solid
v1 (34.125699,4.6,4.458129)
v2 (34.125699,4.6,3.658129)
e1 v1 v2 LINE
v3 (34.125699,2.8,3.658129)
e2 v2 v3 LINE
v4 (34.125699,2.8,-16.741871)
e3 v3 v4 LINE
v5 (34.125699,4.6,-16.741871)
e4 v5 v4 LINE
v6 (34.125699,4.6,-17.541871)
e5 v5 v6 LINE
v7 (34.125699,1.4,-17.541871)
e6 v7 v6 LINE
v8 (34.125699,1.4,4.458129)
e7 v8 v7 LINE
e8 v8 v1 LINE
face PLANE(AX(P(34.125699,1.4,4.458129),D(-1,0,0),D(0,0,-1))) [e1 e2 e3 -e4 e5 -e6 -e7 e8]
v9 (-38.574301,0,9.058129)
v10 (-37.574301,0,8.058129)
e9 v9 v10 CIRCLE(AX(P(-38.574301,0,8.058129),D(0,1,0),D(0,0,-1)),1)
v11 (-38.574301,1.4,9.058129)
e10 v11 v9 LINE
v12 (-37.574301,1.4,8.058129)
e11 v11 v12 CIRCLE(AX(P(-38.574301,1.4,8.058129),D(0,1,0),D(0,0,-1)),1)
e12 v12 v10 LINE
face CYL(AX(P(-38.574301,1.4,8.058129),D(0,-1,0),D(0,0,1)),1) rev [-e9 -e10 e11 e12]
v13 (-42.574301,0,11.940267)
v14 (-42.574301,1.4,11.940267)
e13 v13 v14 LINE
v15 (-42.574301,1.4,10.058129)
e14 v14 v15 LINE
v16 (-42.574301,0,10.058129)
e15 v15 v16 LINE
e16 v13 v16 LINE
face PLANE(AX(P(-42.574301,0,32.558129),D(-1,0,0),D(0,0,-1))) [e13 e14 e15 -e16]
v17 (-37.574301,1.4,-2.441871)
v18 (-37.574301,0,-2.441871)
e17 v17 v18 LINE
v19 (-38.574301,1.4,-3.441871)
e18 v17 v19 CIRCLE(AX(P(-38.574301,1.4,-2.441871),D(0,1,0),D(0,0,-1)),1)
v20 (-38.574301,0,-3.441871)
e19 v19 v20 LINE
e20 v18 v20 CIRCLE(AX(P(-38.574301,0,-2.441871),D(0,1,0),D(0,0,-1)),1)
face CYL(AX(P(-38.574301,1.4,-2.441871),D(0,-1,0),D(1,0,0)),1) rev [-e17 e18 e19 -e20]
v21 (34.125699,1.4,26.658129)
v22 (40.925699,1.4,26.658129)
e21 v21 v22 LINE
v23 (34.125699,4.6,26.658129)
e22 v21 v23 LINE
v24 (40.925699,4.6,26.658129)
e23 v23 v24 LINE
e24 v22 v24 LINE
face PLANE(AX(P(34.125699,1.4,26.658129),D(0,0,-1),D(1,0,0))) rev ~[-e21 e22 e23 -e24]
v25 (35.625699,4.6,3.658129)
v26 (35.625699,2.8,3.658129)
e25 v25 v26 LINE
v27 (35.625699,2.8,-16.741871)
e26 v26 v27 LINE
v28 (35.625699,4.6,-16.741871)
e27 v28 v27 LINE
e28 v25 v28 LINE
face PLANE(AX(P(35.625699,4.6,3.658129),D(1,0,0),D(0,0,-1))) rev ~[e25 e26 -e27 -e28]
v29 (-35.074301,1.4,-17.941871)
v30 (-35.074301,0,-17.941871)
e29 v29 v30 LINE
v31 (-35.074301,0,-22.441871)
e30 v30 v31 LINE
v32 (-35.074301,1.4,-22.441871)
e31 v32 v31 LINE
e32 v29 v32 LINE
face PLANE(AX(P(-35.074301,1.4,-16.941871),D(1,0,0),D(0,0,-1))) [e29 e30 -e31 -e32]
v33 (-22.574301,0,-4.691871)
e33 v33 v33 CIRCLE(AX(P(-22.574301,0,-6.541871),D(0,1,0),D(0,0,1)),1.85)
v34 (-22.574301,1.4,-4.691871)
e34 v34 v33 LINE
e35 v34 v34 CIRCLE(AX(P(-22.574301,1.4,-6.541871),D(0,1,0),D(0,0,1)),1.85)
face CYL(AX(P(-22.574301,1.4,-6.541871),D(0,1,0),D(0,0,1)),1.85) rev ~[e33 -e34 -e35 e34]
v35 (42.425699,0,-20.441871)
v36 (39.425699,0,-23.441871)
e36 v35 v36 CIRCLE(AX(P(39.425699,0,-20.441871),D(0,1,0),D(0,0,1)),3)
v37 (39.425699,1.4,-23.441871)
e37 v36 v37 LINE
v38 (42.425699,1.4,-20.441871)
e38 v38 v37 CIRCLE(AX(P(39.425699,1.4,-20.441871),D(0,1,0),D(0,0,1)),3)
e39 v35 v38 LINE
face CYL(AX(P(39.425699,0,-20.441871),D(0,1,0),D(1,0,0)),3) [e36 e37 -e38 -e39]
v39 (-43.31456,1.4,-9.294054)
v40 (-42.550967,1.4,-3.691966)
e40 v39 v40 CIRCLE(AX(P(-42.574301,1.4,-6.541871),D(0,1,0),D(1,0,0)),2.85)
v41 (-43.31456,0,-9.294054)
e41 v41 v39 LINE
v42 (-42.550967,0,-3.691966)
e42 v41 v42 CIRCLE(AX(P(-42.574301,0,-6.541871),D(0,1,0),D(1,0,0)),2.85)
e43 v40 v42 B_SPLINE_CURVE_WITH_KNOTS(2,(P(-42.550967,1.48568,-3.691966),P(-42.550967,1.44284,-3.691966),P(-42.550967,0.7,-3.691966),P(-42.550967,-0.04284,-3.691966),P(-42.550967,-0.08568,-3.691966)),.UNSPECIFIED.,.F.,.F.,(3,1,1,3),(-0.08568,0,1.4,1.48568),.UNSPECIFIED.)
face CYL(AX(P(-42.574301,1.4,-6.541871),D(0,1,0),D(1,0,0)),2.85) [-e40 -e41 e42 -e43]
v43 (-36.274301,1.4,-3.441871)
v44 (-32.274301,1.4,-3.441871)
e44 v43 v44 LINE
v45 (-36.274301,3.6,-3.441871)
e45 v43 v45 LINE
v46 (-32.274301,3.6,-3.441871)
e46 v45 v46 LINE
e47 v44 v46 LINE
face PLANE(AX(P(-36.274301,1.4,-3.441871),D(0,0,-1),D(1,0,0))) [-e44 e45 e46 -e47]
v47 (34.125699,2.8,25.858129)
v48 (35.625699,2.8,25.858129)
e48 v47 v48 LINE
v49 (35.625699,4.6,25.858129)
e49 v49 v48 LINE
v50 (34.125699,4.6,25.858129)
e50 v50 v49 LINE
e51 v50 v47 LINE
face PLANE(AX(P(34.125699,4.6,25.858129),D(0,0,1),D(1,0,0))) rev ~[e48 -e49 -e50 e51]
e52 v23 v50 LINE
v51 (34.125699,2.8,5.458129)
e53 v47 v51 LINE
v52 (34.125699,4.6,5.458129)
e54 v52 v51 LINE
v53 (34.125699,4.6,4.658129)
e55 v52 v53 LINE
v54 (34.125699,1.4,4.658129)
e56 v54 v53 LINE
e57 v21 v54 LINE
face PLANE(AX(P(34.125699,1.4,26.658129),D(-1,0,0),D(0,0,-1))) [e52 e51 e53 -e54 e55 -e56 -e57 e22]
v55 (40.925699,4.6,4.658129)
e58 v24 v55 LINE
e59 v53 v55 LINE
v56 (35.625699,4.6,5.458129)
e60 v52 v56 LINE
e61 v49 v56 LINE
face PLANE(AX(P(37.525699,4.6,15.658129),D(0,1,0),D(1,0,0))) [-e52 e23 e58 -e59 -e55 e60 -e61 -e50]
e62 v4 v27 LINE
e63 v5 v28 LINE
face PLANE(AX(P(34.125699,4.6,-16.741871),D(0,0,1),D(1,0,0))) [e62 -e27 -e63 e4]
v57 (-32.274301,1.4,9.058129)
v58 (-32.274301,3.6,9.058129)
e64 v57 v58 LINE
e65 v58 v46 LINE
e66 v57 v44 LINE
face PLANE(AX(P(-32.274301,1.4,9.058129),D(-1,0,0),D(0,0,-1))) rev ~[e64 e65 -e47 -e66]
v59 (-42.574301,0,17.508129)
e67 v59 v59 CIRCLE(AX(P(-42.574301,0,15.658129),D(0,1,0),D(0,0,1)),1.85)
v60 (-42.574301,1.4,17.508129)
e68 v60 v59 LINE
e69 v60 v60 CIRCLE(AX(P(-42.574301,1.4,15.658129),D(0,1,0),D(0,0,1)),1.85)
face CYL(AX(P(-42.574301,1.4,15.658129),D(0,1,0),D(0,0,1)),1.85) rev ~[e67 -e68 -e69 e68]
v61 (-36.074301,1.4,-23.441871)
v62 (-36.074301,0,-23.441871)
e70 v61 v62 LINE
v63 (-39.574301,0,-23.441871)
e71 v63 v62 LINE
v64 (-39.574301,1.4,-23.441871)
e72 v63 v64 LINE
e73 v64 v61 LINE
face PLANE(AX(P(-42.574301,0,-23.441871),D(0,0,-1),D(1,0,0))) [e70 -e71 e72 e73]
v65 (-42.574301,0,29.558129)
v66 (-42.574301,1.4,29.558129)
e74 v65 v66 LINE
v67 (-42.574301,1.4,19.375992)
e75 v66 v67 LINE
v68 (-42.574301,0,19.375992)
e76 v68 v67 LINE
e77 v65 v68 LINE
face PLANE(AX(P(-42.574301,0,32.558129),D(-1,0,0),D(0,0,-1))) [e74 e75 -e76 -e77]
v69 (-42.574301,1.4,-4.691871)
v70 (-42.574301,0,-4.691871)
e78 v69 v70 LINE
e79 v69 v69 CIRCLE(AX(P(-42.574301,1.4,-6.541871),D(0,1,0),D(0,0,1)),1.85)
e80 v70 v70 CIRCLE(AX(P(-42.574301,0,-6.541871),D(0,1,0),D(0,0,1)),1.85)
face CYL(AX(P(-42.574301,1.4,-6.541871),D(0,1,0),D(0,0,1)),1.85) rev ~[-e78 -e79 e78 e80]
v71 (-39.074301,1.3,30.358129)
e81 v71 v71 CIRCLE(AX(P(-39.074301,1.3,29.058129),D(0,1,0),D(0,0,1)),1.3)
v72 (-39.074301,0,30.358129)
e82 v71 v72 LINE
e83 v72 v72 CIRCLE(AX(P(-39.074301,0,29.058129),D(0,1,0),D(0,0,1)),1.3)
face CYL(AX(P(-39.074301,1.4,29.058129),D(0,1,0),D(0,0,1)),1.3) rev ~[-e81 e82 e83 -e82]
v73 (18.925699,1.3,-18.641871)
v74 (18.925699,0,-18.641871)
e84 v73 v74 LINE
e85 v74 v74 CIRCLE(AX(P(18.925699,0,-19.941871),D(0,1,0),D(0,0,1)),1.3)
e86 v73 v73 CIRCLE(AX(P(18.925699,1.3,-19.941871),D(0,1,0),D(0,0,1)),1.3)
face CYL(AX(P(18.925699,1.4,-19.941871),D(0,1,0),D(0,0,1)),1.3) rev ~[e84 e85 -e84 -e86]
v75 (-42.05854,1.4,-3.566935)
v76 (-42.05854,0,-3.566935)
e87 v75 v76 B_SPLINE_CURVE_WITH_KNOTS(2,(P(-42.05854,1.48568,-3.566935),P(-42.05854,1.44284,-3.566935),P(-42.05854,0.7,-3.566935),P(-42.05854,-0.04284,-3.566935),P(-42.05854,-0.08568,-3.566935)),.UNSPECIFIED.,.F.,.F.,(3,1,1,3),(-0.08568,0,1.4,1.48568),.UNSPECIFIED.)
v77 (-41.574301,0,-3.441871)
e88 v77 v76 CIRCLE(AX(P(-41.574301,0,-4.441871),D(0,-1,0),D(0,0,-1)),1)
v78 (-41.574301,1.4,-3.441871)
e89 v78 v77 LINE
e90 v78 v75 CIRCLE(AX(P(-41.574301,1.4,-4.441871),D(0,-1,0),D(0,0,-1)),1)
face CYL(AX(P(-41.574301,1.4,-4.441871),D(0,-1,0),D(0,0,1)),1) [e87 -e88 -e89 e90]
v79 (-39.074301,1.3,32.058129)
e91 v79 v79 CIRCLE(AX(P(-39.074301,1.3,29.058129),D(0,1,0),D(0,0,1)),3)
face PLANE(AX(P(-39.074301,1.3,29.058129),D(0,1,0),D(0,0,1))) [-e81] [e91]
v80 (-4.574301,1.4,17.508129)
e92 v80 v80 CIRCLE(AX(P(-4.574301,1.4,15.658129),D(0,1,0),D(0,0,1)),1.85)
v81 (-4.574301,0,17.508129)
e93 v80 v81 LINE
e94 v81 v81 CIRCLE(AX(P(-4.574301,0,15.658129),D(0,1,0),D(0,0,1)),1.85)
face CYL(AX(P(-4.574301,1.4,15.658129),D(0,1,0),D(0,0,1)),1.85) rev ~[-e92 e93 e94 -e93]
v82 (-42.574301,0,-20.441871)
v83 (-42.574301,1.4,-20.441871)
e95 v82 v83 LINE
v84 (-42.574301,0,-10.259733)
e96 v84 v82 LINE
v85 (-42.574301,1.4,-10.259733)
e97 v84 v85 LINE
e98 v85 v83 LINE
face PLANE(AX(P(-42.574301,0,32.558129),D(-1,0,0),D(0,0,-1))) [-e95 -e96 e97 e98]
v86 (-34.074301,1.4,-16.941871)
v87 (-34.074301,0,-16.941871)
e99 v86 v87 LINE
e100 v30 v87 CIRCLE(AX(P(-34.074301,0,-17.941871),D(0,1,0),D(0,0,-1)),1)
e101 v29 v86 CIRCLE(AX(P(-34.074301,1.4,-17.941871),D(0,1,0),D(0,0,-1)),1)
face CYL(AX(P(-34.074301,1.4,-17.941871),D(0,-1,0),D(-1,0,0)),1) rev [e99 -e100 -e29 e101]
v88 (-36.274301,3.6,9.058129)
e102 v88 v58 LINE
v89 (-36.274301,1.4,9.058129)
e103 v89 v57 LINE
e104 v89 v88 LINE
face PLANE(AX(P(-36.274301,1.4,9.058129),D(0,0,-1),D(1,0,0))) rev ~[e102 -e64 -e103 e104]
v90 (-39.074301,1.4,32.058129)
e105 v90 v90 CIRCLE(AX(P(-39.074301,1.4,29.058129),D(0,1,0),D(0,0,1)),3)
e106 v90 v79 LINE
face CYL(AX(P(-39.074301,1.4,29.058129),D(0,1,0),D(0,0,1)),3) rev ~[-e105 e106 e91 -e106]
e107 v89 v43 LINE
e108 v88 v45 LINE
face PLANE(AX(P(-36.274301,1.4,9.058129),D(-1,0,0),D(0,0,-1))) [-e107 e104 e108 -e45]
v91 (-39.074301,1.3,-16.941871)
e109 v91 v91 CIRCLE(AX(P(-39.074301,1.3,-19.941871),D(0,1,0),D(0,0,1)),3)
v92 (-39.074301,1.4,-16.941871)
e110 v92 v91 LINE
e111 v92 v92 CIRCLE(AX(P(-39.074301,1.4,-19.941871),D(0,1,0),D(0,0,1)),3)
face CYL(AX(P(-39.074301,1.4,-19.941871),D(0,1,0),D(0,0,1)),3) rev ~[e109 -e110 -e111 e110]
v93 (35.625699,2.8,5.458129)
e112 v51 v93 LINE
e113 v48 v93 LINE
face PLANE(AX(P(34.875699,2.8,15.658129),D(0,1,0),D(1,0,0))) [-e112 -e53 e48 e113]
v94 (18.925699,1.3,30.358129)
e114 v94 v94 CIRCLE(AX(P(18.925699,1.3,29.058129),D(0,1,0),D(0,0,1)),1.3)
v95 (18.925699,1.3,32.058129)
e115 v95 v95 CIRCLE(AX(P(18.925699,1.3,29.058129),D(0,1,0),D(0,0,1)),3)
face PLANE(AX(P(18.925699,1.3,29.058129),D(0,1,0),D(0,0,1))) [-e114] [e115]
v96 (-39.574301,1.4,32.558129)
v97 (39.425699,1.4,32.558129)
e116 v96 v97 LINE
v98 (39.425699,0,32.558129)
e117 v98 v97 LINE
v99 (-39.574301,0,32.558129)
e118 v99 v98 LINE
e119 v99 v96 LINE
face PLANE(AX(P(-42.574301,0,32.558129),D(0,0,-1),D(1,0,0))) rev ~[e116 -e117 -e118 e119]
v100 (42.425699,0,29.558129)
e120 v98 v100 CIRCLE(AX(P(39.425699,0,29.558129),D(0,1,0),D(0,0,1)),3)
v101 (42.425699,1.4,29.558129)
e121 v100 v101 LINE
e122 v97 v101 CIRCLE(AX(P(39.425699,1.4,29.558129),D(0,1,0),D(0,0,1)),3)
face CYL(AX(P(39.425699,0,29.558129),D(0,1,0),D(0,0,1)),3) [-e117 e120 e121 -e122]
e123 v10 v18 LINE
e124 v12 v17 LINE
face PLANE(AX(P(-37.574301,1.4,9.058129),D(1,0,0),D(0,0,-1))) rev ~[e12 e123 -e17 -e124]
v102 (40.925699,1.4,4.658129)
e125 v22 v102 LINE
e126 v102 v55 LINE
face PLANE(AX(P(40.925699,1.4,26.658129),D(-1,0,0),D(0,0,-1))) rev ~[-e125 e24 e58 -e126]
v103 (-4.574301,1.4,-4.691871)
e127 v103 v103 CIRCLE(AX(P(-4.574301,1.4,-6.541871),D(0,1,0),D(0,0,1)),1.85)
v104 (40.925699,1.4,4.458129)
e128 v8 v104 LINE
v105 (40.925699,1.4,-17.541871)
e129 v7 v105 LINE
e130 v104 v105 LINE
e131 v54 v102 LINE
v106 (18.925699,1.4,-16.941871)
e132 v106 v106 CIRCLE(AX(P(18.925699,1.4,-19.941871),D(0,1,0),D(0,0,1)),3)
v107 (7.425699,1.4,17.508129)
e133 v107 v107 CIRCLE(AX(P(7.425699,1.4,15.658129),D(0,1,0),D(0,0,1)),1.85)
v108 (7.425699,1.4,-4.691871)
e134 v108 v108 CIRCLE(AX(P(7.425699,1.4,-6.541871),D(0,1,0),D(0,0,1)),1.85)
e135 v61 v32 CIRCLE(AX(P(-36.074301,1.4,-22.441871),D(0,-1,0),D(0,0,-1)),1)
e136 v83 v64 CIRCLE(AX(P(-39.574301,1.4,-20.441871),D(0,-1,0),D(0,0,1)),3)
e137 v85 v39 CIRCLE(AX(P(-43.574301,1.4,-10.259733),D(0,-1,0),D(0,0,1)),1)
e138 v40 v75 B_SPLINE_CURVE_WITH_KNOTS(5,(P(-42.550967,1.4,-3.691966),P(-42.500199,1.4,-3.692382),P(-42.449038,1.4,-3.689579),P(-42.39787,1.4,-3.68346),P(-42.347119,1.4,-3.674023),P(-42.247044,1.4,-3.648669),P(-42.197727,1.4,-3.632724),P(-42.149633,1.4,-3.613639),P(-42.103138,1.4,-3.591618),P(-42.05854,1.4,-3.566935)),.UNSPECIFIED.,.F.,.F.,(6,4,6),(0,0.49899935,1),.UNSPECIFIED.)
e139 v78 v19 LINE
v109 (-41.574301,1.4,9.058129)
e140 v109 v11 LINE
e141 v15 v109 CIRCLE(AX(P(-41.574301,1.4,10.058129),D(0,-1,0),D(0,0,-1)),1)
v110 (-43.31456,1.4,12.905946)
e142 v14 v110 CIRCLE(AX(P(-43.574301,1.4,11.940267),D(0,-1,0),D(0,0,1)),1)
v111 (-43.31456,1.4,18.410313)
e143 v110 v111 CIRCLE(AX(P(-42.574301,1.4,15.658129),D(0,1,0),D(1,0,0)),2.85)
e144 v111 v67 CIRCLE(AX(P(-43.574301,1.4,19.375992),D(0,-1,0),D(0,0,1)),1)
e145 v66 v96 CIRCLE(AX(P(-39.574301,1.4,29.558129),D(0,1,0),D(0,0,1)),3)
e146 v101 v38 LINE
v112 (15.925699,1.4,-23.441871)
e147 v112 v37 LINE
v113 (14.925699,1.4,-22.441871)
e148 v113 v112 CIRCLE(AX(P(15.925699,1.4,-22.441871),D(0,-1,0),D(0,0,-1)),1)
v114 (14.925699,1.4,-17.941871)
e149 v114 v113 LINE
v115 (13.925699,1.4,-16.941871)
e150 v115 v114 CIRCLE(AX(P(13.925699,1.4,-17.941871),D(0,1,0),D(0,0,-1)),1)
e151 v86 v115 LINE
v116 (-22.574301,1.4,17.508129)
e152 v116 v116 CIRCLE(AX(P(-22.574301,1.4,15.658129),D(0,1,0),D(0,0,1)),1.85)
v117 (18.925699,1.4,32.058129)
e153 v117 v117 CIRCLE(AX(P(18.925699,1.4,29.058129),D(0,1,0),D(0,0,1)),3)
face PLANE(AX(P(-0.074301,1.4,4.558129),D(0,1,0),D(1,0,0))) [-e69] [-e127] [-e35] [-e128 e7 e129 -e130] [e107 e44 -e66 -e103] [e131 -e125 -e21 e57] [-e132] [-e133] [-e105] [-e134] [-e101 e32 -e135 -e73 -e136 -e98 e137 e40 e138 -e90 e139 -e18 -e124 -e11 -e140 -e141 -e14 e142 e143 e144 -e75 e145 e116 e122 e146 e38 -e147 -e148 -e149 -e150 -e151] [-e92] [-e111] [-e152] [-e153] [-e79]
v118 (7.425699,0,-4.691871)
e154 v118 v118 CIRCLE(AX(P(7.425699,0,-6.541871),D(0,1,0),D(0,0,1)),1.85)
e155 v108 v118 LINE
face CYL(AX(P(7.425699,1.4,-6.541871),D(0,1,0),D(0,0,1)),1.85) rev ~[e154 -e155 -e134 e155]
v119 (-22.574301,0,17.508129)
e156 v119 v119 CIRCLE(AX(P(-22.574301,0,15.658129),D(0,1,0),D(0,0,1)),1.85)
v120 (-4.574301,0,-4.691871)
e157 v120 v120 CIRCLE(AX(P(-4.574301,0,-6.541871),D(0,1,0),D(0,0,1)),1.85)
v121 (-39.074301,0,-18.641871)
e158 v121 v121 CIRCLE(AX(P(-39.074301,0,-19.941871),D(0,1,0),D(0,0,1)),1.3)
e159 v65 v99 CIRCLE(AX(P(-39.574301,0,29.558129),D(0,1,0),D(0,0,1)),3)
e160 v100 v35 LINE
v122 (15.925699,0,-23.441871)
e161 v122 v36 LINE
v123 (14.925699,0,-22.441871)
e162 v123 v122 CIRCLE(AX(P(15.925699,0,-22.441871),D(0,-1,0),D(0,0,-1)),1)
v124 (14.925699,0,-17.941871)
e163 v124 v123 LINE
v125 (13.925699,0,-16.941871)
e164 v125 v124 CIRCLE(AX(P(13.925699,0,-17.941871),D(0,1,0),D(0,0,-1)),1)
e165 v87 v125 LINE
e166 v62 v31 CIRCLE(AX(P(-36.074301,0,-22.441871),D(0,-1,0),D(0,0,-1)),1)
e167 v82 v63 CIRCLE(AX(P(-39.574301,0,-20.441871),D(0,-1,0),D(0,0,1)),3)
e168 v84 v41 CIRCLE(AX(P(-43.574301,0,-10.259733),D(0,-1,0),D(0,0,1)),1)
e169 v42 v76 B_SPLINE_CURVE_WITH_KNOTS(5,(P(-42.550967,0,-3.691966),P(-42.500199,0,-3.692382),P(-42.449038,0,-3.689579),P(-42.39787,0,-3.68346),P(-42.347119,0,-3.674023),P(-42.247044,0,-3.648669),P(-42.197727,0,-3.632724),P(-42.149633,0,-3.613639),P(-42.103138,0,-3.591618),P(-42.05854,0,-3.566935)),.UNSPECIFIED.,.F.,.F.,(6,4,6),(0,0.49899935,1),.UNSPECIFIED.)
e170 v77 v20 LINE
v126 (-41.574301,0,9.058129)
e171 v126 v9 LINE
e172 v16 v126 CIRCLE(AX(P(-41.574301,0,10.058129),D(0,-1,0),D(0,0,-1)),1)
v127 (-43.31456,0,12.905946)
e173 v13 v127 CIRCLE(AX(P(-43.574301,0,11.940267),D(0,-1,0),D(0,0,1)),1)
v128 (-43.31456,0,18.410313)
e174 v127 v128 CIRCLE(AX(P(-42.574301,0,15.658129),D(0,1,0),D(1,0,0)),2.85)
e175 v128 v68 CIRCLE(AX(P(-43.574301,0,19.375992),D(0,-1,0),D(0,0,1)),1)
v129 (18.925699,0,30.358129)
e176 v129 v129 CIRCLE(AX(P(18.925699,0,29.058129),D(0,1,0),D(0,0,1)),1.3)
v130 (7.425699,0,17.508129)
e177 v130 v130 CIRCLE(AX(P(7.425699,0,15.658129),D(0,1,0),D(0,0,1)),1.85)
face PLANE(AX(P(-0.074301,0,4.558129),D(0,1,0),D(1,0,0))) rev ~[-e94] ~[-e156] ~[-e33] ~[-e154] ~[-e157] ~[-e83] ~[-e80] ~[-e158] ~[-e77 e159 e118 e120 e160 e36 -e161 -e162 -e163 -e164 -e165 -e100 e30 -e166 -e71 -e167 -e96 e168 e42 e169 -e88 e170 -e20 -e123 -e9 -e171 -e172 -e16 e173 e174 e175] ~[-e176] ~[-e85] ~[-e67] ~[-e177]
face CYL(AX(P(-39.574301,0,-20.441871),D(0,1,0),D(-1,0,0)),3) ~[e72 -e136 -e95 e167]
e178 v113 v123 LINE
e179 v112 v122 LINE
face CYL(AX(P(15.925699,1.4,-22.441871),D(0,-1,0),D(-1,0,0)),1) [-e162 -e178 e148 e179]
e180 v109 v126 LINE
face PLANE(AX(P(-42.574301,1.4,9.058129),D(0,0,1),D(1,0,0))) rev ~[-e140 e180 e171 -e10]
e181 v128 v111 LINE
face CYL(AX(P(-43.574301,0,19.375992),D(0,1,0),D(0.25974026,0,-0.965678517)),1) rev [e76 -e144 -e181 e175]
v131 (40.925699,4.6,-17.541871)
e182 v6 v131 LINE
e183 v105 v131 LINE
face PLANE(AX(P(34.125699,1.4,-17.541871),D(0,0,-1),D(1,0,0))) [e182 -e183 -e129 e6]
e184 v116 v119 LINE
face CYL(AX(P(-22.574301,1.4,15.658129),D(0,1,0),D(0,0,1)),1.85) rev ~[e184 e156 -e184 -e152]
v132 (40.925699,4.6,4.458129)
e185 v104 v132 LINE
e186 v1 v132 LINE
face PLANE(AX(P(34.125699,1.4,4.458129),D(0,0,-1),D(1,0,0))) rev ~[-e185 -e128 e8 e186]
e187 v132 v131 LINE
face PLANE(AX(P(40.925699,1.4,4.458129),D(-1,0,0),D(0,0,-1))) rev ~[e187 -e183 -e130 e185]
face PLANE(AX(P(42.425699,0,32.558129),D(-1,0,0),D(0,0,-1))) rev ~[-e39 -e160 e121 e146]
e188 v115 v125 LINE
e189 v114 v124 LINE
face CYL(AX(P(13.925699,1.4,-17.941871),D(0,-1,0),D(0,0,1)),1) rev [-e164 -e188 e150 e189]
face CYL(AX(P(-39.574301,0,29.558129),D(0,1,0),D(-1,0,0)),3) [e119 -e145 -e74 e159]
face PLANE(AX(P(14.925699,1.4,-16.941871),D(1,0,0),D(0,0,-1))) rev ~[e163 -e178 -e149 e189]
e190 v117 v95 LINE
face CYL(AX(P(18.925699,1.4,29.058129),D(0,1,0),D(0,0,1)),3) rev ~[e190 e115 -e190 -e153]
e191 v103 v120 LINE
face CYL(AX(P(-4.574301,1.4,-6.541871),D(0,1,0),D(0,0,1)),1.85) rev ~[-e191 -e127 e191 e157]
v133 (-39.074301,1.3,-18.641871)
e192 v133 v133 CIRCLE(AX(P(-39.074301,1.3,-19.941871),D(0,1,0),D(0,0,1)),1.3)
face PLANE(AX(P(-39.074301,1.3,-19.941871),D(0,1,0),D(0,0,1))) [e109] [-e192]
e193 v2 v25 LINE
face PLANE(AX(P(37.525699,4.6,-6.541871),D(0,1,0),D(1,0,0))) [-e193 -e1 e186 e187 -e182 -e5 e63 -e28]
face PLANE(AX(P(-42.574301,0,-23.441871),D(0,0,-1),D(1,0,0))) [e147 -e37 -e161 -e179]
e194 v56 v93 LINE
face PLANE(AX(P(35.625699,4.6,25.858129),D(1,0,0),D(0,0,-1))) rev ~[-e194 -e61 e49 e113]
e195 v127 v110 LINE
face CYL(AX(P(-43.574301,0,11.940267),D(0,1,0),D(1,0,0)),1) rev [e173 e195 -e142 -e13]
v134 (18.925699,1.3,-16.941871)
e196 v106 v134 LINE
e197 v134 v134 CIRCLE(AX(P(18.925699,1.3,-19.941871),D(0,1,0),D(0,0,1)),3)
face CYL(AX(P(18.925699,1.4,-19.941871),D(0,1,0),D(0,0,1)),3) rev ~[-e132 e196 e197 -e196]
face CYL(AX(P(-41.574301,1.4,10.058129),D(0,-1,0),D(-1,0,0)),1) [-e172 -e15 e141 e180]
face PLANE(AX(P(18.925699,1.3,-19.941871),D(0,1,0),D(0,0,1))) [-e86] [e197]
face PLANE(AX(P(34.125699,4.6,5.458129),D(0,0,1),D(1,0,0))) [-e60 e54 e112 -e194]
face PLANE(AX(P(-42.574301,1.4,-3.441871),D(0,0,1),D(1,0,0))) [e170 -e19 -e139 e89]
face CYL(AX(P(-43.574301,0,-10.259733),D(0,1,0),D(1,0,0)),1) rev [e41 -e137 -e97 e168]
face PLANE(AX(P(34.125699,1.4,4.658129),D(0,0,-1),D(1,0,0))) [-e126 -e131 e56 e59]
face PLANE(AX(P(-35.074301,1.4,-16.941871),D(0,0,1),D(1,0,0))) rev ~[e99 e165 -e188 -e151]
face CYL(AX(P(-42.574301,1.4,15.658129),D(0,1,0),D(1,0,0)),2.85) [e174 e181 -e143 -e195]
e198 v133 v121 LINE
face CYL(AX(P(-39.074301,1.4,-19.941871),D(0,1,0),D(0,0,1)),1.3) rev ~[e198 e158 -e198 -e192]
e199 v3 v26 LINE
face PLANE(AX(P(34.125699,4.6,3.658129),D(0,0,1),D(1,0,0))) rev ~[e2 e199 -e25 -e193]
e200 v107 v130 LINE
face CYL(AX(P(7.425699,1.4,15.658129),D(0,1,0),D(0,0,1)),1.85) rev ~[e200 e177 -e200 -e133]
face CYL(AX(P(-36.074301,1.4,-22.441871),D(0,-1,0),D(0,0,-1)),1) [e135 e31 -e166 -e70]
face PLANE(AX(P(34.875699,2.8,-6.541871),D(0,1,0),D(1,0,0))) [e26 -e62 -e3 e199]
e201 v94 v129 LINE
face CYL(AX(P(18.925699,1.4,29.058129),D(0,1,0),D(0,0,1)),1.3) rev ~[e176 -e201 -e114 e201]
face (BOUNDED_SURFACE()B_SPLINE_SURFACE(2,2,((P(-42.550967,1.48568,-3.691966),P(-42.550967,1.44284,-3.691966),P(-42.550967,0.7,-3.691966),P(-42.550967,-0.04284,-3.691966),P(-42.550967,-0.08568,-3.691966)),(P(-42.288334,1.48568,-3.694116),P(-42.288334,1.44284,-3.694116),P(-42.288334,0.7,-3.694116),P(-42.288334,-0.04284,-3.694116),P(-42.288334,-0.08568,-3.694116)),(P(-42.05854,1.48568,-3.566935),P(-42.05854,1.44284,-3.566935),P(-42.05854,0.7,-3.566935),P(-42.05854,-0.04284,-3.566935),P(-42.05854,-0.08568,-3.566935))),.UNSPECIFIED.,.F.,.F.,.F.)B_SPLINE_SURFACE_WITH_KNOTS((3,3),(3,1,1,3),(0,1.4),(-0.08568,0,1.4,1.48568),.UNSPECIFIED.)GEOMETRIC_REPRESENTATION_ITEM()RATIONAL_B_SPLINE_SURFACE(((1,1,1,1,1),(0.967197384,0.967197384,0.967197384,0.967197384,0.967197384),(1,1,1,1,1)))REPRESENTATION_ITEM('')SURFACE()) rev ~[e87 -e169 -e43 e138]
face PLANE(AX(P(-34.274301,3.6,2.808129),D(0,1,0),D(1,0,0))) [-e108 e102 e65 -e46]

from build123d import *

# Parameters (mm, degrees)
SKETCH_1_W          = 85
SKETCH_1_H          = 56
EXTRUDE_1_DEPTH     = 1.4
FILLET_1_R          = 3
SKETCH_2_R          = 1.3
CUT_EXTRUDE_1_DEPTH = 1.5
SKETCH_7_R          = 3
CUT_EXTRUDE_4_DEPTH = 0.1
SKETCH_3_W          = 5
SKETCH_3_H          = 12.5
CUT_EXTRUDE_2_DEPTH = 1.5
FILLET_2_R          = 1
SKETCH_8_W          = 50
SKETCH_8_H          = 6.5
CUT_EXTRUDE_5_DEPTH = 54.614950043
FILLET_3_R          = 1
SKETCH_4_W          = 6.8
SKETCH_4_H          = 22
EXTRUDE_2_DEPTH     = 3.2
SKETCH_5_W          = 1.5
SKETCH_5_H          = 20.4
CUT_EXTRUDE_3_DEPTH = 1.8
SKETCH_6_W          = 4
SKETCH_6_H          = 12.5
EXTRUDE_3_DEPTH     = 2.2
SKETCH_10_R         = 2.85
EXTRUDE_4_DEPTH     = 1.4
SKETCH_9_R          = 1.85
CUT_EXTRUDE_6_DEPTH = 56.978914621
FILLET_4_R          = 1


with BuildPart() as part:
    # 草图1 → 凸台-拉伸1 (new body)
    with BuildSketch(Plane(origin=(0, 0, 0), x_dir=(1, 0, 0), z_dir=(0, 1, 0))):
        with Locations((-0.074300699, -4.558129371)):
            Rectangle(SKETCH_1_W, SKETCH_1_H)
    extrude(amount=EXTRUDE_1_DEPTH)

    # 圆角1
    fillet_1_edges = [part.edges().sort_by_distance(p)[0] for p in [
        (-42.574300699, 0.7, -23.441870629),
        (42.425699301, 0.7, -23.441870629),
        (42.425699301, 0.7, 32.558129371),
        (-42.574300699, 0.7, 32.558129371),
    ]]
    fillet(fillet_1_edges, radius=FILLET_1_R)

    # 草图2 → 切除-拉伸1 (cut)
    with BuildSketch(Plane(origin=(0, 1.4, 0), x_dir=(1, 0, 0), z_dir=(0, 1, 0))):
        with Locations(Location((-39.074300699, 19.941870629, 0), (0, 0, 270))):
            Circle(SKETCH_2_R)
        with Locations(Location((-39.074300699, -29.058129371, 0), (0, 0, 270))):
            Circle(SKETCH_2_R)
        with Locations(Location((18.925699301, -29.058129371, 0), (0, 0, 270))):
            Circle(SKETCH_2_R)
        with Locations(Location((18.925699301, 19.941870629, 0), (0, 0, 270))):
            Circle(SKETCH_2_R)
    extrude(amount=-CUT_EXTRUDE_1_DEPTH, mode=Mode.SUBTRACT)

    # 草图7 → 切除-拉伸4 (cut)
    with BuildSketch(Plane(origin=(0, 1.4, 0), x_dir=(1, 0, 0), z_dir=(0, 1, 0))):
        with Locations(Location((-39.074300699, 19.941870629, 0), (0, 0, 270))):
            Circle(SKETCH_7_R)
        with Locations(Location((18.925699301, 19.941870629, 0), (0, 0, 270))):
            Circle(SKETCH_7_R)
        with Locations(Location((-39.074300699, -29.058129371, 0), (0, 0, 270))):
            Circle(SKETCH_7_R)
        with Locations(Location((18.925699301, -29.058129371, 0), (0, 0, 270))):
            Circle(SKETCH_7_R)
    extrude(amount=-CUT_EXTRUDE_4_DEPTH, mode=Mode.SUBTRACT)

    # 草图3 → 切除-拉伸2 (cut)
    with BuildSketch(Plane(origin=(0, 1.4, 0), x_dir=(1, 0, 0), z_dir=(0, 1, 0))):
        with Locations((-40.074300699, -2.808129371)):
            Rectangle(SKETCH_3_W, SKETCH_3_H)
    extrude(amount=-CUT_EXTRUDE_2_DEPTH, mode=Mode.SUBTRACT)

    # 圆角2
    fillet_2_edges = [part.edges().sort_by_distance(p)[0] for p in [
        (-42.574300699, 0.7, 9.058129371),
        (-42.574300699, 0.7, -3.441870629),
        (-37.574300699, 0.7, -3.441870629),
        (-37.574300699, 0.7, 9.058129371),
    ]]
    fillet(fillet_2_edges, radius=FILLET_2_R)

    # 草图8 → 切除-拉伸5 (cut, through all)
    with BuildSketch(Plane(origin=(0, 1.4, 0), x_dir=(1, 0, 0), z_dir=(0, 1, 0))):
        with Locations((-10.074300699, 20.191870629)):
            Rectangle(SKETCH_8_W, SKETCH_8_H)
    extrude(amount=-CUT_EXTRUDE_5_DEPTH, mode=Mode.SUBTRACT)

    # 圆角3
    fillet_3_edges = [part.edges().sort_by_distance(p)[0] for p in [
        (-35.074300699, 0.7, -16.941870629),
        (-35.074300699, 0.7, -23.441870629),
        (14.925699301, 0.7, -23.441870629),
        (14.925699301, 0.7, -16.941870629),
    ]]
    fillet(fillet_3_edges, radius=FILLET_3_R)

    # 草图4 → 凸台-拉伸2 (add)
    with BuildSketch(Plane(origin=(0, 1.4, 0), x_dir=(1, 0, 0), z_dir=(0, 1, 0))):
        with Locations((37.525699301, 6.541870629)):
            Rectangle(SKETCH_4_W, SKETCH_4_H)
        with Locations((37.525699301, -15.658129371)):
            Rectangle(SKETCH_4_W, SKETCH_4_H)
    extrude(amount=EXTRUDE_2_DEPTH)

    # 草图5 → 切除-拉伸3 (cut)
    with BuildSketch(Plane(origin=(0, 4.6, 0), x_dir=(1, 0, 0), z_dir=(0, 1, 0))):
        with Locations((34.875699301, 6.541870629)):
            Rectangle(SKETCH_5_W, SKETCH_5_H)
        with Locations((34.875699301, -15.658129371)):
            Rectangle(SKETCH_5_W, SKETCH_5_H)
    extrude(amount=-CUT_EXTRUDE_3_DEPTH, mode=Mode.SUBTRACT)

    # 草图6 → 凸台-拉伸3 (add)
    with BuildSketch(Plane(origin=(0, 1.4, 0), x_dir=(1, 0, 0), z_dir=(0, 1, 0))):
        with Locations((-34.274300699, -2.808129371)):
            Rectangle(SKETCH_6_W, SKETCH_6_H)
    extrude(amount=EXTRUDE_3_DEPTH)

    # 草图10 → 凸台-拉伸4 (add)
    with BuildSketch(Plane(origin=(0, 1.4, 0), x_dir=(1, 0, 0), z_dir=(0, 1, 0))):
        with Locations((-42.574300699, 6.541870629)):
            Circle(SKETCH_10_R)
        with Locations((-42.574300699, -15.658129371)):
            Circle(SKETCH_10_R)
    extrude(amount=-EXTRUDE_4_DEPTH)

    # 草图9 → 切除-拉伸6 (cut, through all)
    with BuildSketch(Plane(origin=(0, 1.4, 0), x_dir=(1, 0, 0), z_dir=(0, 1, 0))):
        with Locations(Location((7.425699301, 6.541870629, 0), (0, 0, 270))):
            Circle(SKETCH_9_R)
        with Locations(Location((-4.574300699, 6.541870629, 0), (0, 0, 270))):
            Circle(SKETCH_9_R)
        with Locations(Location((-22.574300699, 6.541870629, 0), (0, 0, 270))):
            Circle(SKETCH_9_R)
        with Locations(Location((-22.574300699, -15.658129371, 0), (0, 0, 270))):
            Circle(SKETCH_9_R)
        with Locations(Location((-4.574300699, -15.658129371, 0), (0, 0, 270))):
            Circle(SKETCH_9_R)
        with Locations(Location((7.425699301, -15.658129371, 0), (0, 0, 270))):
            Circle(SKETCH_9_R)
        with Locations(Location((-42.574300699, 6.541870629, 0), (0, 0, 270))):
            Circle(SKETCH_9_R)
        with Locations(Location((-42.574300699, -15.658129371, 0), (0, 0, 270))):
            Circle(SKETCH_9_R)
    extrude(amount=-CUT_EXTRUDE_6_DEPTH, mode=Mode.SUBTRACT)

    # 圆角4
    fillet_4_edges = [part.edges().sort_by_distance(p)[0] for p in [
        (-42.255485289, 0.7, -3.70975892),
        (-42.574300699, 0.7, -9.391870629),
        (-42.574300699, 0.7, 12.808129371),
        (-42.574300699, 0.7, 18.508129371),
    ]]
    fillet(fillet_4_edges, radius=FILLET_4_R)


solid = part.part
